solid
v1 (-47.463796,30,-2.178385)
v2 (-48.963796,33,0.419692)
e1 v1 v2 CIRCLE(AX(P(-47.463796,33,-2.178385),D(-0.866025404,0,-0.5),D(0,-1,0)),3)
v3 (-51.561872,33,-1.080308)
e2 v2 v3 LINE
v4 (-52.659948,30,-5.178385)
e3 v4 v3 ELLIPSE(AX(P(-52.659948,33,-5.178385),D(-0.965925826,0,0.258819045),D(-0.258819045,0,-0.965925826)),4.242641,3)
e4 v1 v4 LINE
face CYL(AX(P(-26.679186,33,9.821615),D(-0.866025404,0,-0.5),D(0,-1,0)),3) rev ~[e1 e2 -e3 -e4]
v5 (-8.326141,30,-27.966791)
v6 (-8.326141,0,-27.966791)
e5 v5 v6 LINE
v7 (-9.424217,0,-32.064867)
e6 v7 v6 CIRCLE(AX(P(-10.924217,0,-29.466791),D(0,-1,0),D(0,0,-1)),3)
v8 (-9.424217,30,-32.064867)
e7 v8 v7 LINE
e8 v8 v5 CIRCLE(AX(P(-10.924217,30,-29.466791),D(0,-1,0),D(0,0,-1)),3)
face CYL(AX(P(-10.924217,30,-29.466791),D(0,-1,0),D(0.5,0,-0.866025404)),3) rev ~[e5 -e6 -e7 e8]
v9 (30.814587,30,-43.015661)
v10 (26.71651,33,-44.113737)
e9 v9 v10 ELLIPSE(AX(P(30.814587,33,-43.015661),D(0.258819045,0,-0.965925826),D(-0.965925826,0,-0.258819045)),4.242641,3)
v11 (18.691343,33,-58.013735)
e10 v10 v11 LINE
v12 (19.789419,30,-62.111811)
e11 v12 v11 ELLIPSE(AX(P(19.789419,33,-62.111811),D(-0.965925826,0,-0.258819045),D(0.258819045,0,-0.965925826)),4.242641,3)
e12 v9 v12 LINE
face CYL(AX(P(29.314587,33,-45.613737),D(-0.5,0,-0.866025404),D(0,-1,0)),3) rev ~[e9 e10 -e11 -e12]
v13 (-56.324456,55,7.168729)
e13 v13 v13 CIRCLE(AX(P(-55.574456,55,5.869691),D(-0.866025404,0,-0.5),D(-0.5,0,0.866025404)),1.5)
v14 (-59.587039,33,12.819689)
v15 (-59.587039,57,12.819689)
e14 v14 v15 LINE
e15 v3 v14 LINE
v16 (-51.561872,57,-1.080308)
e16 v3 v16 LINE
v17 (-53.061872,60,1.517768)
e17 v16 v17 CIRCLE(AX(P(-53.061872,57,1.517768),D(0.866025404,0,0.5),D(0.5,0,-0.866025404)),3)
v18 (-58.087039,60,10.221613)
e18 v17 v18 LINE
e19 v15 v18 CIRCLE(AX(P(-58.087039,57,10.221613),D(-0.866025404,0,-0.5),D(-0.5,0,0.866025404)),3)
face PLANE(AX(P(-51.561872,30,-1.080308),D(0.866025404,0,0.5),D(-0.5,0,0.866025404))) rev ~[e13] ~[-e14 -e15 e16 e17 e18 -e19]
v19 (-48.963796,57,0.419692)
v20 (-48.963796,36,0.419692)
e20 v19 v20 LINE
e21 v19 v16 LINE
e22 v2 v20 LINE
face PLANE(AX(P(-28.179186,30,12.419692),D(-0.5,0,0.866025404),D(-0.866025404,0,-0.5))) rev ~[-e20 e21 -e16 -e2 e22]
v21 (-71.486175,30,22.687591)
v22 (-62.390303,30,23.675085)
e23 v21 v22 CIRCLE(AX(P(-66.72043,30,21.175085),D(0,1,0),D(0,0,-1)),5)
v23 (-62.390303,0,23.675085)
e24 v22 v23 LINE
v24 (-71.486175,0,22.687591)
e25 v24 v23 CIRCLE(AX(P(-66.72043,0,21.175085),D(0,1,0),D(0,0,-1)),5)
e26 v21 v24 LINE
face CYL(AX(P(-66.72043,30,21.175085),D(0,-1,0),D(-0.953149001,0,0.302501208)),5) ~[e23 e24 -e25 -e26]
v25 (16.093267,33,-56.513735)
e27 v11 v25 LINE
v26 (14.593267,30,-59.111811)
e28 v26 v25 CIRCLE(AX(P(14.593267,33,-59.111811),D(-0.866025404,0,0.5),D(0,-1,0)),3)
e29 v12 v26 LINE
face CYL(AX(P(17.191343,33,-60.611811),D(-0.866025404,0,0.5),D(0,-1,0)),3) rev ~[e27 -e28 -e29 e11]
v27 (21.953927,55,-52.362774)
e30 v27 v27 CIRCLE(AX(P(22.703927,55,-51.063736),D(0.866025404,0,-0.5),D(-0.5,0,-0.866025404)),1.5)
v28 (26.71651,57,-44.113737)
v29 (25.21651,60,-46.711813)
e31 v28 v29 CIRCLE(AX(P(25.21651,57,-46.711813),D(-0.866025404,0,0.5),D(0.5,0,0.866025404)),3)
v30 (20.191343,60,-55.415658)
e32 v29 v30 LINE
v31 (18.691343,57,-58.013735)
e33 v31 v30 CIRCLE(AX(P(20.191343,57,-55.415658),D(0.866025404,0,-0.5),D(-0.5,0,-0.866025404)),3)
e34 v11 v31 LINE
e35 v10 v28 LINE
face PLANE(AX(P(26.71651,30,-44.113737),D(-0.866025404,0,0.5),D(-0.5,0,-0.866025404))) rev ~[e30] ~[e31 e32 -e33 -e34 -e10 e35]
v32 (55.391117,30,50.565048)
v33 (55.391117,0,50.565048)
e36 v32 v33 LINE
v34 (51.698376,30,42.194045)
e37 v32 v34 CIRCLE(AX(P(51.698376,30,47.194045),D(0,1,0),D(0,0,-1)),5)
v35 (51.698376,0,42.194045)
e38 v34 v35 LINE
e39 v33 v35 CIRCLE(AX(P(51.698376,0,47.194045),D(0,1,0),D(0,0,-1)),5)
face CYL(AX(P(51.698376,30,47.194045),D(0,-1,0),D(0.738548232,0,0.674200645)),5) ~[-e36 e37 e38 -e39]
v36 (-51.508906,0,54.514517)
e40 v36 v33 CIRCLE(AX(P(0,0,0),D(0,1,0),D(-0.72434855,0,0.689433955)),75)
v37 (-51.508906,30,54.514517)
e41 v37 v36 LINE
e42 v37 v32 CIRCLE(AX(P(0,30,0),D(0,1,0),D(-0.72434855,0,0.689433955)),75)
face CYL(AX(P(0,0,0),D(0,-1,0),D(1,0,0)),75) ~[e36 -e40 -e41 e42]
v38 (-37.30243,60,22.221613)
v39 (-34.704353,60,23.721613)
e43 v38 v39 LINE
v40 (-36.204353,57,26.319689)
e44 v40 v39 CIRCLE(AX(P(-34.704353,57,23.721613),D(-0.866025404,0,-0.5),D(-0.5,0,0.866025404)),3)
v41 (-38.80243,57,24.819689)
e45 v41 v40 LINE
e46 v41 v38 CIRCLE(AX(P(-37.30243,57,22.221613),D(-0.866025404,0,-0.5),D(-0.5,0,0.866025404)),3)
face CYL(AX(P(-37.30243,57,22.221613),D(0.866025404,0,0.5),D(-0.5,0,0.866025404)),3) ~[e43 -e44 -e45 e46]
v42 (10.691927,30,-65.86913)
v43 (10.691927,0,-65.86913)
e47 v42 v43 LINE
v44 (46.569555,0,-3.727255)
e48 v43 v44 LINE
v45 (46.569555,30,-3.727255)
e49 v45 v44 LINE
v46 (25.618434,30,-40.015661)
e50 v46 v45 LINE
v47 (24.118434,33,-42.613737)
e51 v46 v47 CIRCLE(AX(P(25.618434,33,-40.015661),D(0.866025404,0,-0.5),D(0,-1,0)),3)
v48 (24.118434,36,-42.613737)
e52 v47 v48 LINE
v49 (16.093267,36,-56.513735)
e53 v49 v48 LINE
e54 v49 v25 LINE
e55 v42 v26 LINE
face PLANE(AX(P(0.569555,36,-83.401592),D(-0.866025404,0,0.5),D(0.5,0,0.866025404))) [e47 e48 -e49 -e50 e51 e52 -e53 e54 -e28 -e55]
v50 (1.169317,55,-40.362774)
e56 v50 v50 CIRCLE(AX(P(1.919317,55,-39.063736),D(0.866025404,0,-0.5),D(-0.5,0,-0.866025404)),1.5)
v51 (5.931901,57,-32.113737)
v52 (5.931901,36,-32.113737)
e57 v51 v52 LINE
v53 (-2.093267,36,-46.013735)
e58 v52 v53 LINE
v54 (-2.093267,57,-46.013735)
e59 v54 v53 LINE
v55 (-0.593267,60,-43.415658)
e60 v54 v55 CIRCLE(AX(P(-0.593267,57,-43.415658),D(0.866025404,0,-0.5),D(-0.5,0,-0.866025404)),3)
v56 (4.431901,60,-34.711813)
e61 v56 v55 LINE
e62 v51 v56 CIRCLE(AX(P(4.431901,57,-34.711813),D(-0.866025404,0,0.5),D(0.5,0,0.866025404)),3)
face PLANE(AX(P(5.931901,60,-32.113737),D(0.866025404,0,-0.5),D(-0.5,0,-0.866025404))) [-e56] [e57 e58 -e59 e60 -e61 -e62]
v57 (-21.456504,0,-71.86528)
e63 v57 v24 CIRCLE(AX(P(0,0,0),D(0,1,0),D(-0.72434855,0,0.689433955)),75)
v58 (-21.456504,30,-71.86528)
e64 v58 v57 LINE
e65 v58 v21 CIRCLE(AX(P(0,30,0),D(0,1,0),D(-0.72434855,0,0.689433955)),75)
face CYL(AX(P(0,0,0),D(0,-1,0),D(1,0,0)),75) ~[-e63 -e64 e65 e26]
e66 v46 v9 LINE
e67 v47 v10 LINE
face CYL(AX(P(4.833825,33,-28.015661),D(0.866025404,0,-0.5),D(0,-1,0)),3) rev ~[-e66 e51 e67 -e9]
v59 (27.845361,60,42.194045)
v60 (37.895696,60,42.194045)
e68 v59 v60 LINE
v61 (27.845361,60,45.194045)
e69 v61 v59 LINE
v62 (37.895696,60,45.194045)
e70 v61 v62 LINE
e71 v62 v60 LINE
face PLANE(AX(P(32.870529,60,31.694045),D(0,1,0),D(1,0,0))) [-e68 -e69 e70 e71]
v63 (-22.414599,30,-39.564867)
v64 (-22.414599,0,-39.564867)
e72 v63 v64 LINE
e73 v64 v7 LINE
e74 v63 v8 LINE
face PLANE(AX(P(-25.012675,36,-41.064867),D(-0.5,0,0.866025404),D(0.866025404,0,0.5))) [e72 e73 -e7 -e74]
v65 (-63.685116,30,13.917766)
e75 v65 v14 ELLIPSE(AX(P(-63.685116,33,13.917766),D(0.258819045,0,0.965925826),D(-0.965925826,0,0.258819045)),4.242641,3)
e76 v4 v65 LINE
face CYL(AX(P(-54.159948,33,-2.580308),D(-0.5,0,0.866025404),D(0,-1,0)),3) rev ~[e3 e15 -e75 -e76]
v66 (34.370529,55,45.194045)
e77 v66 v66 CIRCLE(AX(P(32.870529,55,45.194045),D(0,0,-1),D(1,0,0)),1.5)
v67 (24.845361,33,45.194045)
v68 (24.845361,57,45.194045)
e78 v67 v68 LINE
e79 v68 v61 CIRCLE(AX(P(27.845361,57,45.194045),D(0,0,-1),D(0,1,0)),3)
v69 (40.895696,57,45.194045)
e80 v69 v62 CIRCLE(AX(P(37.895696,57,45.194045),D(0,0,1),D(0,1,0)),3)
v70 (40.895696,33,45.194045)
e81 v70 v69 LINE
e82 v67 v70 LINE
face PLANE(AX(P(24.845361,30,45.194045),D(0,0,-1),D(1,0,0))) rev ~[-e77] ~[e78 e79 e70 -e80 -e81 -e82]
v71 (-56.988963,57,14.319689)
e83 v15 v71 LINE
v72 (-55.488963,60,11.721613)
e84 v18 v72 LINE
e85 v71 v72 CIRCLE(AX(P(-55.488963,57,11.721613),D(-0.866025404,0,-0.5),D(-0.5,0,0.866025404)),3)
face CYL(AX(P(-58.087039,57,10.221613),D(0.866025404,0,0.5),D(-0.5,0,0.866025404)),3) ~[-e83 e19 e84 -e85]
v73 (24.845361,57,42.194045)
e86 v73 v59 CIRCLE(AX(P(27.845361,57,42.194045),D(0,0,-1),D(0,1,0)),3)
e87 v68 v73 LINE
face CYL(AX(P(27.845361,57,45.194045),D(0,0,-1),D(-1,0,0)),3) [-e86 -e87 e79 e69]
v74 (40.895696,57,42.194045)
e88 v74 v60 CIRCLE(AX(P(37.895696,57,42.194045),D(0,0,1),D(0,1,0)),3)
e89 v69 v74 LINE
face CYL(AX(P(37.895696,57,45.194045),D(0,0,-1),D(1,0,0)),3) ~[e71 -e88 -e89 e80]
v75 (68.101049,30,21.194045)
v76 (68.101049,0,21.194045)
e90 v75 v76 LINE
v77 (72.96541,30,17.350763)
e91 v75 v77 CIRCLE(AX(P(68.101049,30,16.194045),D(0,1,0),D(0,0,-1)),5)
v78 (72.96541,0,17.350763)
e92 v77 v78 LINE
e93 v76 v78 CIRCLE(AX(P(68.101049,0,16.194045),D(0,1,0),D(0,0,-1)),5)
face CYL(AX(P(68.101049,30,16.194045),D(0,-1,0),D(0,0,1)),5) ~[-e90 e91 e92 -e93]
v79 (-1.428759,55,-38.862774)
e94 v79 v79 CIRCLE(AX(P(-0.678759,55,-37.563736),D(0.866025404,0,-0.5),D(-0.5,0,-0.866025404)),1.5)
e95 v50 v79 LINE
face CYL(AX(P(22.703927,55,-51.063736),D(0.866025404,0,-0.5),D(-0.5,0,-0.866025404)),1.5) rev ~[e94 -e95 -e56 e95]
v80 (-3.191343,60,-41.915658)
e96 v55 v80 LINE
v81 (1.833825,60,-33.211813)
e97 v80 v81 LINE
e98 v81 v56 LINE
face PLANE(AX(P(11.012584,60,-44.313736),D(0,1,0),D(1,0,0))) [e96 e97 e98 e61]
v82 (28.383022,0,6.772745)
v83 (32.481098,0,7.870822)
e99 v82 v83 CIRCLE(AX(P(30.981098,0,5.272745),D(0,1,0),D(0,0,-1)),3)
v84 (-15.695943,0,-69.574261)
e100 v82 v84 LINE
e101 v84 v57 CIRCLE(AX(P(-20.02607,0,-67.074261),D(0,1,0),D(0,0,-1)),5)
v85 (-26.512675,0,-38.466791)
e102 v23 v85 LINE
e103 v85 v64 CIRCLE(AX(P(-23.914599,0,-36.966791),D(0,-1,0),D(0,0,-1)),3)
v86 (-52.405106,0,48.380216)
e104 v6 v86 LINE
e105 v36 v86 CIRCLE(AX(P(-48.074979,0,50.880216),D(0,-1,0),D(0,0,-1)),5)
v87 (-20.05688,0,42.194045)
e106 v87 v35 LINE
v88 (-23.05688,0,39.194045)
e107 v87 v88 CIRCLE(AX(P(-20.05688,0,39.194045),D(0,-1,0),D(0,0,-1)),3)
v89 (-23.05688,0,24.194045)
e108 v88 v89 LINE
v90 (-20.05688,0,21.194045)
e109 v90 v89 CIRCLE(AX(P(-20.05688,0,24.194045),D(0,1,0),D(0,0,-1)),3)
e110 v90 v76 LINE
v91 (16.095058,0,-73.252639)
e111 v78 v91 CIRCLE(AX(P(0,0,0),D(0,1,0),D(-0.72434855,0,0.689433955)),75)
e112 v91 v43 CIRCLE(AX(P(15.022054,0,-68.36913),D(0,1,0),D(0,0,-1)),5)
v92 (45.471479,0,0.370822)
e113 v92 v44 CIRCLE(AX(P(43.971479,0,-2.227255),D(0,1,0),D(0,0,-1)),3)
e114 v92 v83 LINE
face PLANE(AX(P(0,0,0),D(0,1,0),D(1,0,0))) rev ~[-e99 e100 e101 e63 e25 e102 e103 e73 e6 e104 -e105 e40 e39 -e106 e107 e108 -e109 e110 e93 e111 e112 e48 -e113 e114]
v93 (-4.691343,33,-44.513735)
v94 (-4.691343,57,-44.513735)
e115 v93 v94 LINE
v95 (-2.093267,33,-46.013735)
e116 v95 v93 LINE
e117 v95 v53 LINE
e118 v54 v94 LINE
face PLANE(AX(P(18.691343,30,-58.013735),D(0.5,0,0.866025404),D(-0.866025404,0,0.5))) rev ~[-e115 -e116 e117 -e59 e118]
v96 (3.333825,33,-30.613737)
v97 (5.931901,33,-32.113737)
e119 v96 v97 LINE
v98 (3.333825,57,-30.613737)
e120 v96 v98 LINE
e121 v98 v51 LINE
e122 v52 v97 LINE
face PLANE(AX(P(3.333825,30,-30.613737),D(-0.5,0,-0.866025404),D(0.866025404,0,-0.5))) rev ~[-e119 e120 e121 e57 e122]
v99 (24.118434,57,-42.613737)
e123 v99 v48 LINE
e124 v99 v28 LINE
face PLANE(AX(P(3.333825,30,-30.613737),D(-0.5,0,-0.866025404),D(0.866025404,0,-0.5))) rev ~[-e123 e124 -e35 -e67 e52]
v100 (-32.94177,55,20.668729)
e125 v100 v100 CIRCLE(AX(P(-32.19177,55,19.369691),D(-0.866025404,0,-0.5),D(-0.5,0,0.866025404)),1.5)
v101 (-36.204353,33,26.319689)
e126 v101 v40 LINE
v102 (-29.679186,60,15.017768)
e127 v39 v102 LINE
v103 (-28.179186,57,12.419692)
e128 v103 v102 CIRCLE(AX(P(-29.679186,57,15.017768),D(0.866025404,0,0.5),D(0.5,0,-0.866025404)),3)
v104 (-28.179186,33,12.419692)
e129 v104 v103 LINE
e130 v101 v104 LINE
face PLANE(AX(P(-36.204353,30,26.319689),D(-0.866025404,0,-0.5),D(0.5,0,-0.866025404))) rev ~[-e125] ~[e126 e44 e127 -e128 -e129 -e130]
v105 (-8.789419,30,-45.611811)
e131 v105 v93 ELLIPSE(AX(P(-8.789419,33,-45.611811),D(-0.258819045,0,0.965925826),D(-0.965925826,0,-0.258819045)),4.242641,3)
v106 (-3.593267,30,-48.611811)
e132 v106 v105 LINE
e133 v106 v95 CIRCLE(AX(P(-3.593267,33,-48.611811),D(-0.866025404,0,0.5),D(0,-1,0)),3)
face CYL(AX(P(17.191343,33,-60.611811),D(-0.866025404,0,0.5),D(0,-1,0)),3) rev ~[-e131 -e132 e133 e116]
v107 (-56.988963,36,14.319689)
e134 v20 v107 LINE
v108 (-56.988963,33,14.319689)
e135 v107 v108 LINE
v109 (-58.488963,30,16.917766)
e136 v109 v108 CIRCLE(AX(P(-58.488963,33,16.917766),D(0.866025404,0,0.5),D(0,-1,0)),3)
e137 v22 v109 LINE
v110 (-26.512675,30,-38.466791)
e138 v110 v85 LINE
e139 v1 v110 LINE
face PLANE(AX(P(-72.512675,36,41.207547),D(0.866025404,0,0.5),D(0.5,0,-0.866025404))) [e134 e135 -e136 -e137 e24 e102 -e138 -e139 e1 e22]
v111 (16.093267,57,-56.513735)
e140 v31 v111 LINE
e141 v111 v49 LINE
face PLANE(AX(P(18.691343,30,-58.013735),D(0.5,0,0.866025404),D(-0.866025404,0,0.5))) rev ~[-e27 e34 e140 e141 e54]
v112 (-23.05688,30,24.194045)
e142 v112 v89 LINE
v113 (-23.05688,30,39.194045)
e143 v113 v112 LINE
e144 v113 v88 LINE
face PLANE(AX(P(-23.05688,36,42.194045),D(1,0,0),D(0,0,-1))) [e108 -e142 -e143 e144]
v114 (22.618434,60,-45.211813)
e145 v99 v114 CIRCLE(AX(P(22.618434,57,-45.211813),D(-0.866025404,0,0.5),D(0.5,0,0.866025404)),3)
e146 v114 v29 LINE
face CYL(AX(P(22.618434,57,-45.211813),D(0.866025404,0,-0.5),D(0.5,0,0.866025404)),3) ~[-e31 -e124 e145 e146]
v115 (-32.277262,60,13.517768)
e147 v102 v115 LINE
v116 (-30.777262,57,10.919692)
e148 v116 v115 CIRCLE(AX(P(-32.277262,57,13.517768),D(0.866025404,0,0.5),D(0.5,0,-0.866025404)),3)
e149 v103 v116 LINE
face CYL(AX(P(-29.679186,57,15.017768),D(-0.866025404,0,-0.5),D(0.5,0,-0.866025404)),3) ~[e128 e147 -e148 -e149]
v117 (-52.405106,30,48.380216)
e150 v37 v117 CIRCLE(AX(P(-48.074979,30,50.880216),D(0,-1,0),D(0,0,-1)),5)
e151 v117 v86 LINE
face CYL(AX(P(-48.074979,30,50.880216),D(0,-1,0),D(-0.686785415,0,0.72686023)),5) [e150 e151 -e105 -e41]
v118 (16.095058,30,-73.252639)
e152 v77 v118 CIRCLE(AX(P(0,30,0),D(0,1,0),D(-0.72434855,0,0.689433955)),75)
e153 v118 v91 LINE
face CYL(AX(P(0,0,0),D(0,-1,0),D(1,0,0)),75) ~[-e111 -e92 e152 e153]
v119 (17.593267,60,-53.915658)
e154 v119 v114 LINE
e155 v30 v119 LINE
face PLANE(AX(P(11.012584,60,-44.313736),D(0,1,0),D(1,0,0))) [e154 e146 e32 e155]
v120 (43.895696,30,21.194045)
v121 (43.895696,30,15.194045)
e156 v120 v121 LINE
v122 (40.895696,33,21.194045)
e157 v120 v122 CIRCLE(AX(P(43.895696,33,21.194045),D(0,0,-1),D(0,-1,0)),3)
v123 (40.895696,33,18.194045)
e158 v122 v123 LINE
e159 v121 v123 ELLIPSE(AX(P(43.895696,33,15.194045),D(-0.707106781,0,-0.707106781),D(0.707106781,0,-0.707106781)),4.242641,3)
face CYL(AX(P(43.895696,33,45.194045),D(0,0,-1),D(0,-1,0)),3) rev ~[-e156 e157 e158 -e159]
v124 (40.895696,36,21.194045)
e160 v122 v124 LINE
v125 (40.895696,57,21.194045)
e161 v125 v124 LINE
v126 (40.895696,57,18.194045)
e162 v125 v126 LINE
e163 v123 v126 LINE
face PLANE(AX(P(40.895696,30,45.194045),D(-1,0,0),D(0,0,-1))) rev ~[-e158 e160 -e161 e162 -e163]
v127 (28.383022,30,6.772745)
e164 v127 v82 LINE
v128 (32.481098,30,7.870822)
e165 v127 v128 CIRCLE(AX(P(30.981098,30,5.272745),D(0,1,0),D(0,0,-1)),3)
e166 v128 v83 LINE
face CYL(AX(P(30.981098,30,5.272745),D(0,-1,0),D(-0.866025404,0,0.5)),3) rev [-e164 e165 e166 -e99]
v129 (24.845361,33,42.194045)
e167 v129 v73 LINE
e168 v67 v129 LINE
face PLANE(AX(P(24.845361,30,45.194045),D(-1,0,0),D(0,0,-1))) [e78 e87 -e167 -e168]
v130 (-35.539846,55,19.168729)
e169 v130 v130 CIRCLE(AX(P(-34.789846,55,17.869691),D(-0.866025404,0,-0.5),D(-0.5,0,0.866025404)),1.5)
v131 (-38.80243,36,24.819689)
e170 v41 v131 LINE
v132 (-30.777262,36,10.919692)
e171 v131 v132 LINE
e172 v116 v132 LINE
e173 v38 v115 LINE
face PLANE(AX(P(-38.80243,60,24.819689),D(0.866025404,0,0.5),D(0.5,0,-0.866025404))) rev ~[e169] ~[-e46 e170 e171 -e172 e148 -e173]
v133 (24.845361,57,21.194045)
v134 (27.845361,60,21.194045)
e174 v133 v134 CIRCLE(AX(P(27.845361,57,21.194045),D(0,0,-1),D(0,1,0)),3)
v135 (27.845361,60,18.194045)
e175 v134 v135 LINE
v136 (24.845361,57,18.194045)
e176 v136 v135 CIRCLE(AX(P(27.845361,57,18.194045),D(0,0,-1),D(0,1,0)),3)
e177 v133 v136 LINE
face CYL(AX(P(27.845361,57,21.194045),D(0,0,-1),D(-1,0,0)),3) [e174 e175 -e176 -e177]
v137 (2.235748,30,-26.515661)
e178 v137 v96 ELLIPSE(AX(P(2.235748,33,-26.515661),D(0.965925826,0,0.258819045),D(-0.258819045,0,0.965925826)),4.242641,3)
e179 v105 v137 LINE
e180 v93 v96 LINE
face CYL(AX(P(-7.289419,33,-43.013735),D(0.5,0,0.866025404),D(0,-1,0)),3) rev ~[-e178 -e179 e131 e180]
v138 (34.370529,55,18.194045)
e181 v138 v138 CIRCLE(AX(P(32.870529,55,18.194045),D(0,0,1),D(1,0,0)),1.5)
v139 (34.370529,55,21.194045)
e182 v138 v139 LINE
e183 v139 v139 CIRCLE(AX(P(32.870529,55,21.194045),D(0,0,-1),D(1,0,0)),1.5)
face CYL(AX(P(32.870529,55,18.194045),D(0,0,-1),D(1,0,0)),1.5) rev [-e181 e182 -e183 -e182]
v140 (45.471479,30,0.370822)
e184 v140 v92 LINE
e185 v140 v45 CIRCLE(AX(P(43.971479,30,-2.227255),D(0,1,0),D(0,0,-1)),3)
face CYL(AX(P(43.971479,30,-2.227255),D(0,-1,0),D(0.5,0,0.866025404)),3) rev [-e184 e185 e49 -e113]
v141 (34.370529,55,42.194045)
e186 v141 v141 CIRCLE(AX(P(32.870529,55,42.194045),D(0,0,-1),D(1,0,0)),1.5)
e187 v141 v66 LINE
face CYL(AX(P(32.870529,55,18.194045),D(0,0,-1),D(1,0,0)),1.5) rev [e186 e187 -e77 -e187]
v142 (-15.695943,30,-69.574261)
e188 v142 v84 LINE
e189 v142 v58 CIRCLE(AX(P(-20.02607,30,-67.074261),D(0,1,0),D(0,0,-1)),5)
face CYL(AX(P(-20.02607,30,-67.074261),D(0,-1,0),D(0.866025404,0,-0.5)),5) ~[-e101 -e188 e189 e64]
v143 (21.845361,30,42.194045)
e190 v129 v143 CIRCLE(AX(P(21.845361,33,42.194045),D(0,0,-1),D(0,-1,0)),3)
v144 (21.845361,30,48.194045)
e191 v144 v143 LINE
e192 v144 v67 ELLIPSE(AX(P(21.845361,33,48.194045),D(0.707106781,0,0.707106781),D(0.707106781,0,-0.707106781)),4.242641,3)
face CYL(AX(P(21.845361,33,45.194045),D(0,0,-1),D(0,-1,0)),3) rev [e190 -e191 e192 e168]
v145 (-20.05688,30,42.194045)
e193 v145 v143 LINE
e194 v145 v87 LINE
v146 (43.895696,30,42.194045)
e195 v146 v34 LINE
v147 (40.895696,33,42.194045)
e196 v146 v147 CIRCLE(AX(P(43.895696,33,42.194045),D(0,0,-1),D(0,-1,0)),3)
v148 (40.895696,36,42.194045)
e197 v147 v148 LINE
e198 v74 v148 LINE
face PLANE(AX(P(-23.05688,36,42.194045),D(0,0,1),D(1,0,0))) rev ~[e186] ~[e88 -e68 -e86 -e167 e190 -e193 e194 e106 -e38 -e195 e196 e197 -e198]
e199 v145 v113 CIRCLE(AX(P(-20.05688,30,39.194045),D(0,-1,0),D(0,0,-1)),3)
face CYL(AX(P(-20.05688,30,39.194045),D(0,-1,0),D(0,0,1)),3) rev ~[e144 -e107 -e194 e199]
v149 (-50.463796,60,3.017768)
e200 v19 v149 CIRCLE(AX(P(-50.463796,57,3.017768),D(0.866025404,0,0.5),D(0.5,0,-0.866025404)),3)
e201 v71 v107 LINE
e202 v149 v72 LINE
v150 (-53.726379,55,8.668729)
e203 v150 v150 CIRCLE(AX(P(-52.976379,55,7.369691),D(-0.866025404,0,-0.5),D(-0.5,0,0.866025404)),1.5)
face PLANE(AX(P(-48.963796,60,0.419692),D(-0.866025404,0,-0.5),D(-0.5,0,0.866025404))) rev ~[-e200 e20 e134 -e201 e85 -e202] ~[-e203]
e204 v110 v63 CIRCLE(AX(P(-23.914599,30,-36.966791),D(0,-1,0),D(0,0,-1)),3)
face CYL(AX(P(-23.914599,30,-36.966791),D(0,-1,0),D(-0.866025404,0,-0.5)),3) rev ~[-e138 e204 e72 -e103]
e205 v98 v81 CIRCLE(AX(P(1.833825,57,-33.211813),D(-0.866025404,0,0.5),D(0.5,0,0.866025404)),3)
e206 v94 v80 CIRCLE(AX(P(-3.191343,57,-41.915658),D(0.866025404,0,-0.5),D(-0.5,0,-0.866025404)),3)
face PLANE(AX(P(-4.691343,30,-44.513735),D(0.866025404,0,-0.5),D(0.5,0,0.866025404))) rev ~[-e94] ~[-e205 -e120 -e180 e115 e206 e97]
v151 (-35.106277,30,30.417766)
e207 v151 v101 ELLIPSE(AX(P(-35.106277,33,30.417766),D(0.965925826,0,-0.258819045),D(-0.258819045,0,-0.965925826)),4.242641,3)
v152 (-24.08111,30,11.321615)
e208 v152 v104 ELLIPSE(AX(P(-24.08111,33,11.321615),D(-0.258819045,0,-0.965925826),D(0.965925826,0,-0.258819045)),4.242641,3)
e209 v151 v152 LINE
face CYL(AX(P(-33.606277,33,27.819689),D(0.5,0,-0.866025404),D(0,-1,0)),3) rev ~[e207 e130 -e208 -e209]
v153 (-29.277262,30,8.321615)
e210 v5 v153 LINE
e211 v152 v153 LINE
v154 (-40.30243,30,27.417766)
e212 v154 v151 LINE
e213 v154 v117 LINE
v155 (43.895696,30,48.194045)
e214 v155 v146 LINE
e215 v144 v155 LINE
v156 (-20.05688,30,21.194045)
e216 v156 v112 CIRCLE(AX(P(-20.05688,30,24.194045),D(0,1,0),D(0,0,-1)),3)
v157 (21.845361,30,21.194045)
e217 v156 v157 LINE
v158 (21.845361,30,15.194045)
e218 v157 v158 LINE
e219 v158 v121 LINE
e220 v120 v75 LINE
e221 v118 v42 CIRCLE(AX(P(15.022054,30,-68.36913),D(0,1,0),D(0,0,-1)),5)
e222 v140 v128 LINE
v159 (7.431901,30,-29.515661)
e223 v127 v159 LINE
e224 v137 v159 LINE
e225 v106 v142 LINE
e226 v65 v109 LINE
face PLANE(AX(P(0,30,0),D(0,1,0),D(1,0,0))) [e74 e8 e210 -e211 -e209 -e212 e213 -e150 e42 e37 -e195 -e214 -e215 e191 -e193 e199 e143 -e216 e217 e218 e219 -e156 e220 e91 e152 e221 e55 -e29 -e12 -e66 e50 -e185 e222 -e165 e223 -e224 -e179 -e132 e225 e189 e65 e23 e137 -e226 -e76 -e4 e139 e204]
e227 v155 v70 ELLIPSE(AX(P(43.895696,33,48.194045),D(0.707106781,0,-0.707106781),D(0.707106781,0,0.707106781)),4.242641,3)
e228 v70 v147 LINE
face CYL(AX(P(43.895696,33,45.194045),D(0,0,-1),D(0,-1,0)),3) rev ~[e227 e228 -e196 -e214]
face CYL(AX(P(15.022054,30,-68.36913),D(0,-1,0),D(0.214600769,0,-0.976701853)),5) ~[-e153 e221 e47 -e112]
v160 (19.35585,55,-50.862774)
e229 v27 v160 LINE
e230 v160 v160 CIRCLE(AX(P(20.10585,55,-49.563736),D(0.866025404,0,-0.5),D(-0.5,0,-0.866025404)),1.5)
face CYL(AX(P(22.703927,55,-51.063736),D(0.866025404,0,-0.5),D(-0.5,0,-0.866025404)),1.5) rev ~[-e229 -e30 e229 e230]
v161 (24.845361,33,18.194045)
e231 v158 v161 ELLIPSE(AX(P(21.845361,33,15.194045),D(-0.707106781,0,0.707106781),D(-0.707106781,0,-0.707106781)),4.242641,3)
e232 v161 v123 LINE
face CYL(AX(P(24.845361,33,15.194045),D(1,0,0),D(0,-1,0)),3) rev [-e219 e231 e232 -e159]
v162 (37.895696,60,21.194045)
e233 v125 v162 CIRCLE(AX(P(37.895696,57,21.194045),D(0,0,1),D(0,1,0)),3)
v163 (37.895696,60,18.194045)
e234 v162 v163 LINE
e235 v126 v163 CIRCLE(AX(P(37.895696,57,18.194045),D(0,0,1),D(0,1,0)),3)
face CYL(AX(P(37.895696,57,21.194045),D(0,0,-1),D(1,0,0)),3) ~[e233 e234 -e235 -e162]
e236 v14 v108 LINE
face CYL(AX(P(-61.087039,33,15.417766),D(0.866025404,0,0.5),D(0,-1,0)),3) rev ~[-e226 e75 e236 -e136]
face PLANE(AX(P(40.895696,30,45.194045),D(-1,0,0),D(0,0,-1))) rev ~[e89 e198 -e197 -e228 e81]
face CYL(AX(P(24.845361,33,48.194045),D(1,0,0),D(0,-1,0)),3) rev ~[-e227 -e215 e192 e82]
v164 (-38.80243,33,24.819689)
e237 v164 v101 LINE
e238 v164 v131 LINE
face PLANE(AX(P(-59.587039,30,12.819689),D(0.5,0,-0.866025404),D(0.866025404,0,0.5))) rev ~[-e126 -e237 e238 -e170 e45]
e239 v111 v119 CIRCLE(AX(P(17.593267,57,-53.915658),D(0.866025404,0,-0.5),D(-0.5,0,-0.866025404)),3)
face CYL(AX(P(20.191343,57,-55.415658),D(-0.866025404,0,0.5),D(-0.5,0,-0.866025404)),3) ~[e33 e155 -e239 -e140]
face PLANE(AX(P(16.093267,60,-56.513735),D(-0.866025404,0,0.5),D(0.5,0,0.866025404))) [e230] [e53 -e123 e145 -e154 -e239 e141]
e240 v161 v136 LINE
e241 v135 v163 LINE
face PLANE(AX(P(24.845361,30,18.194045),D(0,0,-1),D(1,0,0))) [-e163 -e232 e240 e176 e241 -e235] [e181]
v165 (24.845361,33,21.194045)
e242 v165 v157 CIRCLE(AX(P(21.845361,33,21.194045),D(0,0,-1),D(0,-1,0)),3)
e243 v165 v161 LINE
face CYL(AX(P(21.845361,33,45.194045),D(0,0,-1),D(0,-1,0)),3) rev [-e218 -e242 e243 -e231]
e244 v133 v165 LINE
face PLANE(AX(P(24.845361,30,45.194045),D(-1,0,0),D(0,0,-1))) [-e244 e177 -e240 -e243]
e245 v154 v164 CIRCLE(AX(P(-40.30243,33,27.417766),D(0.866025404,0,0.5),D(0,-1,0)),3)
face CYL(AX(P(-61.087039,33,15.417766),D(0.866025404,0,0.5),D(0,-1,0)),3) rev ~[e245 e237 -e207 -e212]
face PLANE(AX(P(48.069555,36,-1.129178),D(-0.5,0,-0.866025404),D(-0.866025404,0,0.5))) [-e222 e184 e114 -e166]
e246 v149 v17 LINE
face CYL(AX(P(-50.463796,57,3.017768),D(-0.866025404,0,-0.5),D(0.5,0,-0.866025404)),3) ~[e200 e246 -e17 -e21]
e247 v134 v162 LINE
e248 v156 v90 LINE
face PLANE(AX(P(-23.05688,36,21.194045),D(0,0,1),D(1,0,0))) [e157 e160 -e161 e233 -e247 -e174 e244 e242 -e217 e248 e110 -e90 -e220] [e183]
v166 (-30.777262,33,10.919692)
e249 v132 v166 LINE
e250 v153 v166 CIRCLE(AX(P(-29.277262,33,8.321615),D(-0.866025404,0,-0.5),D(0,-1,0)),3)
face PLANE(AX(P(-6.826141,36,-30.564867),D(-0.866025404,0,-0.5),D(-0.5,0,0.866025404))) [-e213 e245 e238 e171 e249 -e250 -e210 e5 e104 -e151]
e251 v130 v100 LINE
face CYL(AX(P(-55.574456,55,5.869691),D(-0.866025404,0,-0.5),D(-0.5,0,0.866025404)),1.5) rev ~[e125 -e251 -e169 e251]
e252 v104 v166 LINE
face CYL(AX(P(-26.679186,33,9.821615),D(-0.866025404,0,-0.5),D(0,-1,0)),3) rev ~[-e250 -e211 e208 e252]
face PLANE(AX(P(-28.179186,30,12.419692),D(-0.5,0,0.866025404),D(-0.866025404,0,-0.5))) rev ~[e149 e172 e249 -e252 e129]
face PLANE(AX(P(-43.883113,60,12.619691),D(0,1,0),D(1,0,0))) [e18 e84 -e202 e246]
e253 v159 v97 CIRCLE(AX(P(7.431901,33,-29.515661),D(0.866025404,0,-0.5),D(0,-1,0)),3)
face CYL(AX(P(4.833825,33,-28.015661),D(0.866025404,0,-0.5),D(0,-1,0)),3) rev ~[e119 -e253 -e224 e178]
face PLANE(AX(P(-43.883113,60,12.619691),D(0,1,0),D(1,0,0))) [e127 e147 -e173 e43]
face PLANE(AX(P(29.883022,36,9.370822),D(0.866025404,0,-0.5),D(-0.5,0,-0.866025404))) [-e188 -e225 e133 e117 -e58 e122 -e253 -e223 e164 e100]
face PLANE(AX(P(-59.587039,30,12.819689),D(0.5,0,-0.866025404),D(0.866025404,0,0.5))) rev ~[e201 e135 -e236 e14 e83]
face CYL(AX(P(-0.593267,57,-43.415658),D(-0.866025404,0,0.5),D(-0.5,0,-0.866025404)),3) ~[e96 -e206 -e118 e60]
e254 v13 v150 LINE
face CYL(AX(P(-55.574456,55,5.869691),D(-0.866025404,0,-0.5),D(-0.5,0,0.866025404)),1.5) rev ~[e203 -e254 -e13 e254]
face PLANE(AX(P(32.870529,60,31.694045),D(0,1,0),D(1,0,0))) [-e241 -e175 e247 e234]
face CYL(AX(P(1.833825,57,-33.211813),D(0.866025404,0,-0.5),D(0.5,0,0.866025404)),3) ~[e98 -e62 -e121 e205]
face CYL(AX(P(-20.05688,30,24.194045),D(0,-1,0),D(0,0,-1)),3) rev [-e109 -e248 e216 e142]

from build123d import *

# Parameters (mm, degrees)
SKETCH1_R                = 75
BOSS_EXTRUDE1_DEPTH      = 30
SKETCH2_W                = 16.050334996
SKETCH2_H                = 27
BOSS_EXTRUDE3_DEPTH      = 30
SKETCH3_R                = 1.5
CUT_EXTRUDE3_DEPTH       = 57.805954881
CUT_EXTRUDE3_DEPTH_BACK  = 94.194045119
SKETCH4_R                = 1.5
CUT_EXTRUDE4_DEPTH       = 148.645950403
SKETCH6_R                = 1.5
CUT_EXTRUDE5_DEPTH       = 148.645950403
SKETCH7_W                = 16.050693915
SKETCH7_H                = 21
CUT_EXTRUDE6_DEPTH       = 24
CUT_EXTRUDE7_DEPTH       = 24
CUT_EXTRUDE8_DEPTH       = 24
FILLET4_R                = 3
CUT_EXTRUDE9_DEPTH       = 25
CUT_EXTRUDE9_DEPTH_BACK  = 37
CUT_EXTRUDE10_DEPTH      = 25
CUT_EXTRUDE10_DEPTH_BACK = 37
SKETCH12_W               = 95
SKETCH12_H               = 21
CUT_EXTRUDE11_DEPTH      = 25
CUT_EXTRUDE11_DEPTH_BACK = 37
FILLET5_R                = 5
FILLET6_R                = 3
FILLET7_R                = 3


with BuildPart() as part:
    # Sketch1 → Boss-Extrude1 (new body)
    with BuildSketch(Plane(origin=(0, 0, 0), x_dir=(1, 0, 0), z_dir=(0, 1, 0))):
        Circle(SKETCH1_R)
    extrude(amount=BOSS_EXTRUDE1_DEPTH)

    # Sketch2 → Boss-Extrude3 (add)
    with BuildSketch(Plane(origin=(0, 30, 0), x_dir=(1, 0, 0), z_dir=(0, 1, 0))):
        Polygon((3.333824547, 30.61373674), (26.716510449, 44.11373674), (18.691342951, 58.013734586), (-4.691342951, 44.513734586), align=None)
        with Locations((32.870528946, -31.694045119)):
            Rectangle(SKETCH2_W, SKETCH2_H)
        Polygon((-59.587039395, -12.819689466), (-36.204353493, -26.319689466), (-28.179185995, -12.419691621), (-51.561871897, 1.080308379), align=None)
    extrude(amount=BOSS_EXTRUDE3_DEPTH)

    # Sketch3 → Cut-Extrude3 (cut, two sides)
    with BuildSketch(Plane(origin=(24.845361448, 30, 18.194045119), x_dir=(1, 0, 0), z_dir=(0, 0, 1))) as cut_extrude3_sk:
        with Locations((8.025167498, 25)):
            Circle(SKETCH3_R)
    extrude(amount=CUT_EXTRUDE3_DEPTH, mode=Mode.SUBTRACT)
    extrude(cut_extrude3_sk.sketch, amount=-CUT_EXTRUDE3_DEPTH_BACK, mode=Mode.SUBTRACT)

    # Sketch4 → Cut-Extrude4 (cut, through all)
    with BuildSketch(Plane(origin=(-39.139191173, 0, -22.59702256), x_dir=(-0.5, 0, 0.866025404), z_dir=(-0.866025404, 0, -0.5))):
        with Locations((32.870528946, 55)):
            Circle(SKETCH4_R)
    extrude(amount=-CUT_EXTRUDE4_DEPTH, mode=Mode.SUBTRACT)

    # Sketch6 → Cut-Extrude5 (cut, through all)
    with BuildSketch(Plane(origin=(39.139191173, 0, -22.59702256), x_dir=(-0.5, 0, -0.866025404), z_dir=(0.866025404, 0, -0.5))):
        with Locations((32.870528946, 55)):
            Circle(SKETCH6_R)
    extrude(amount=-CUT_EXTRUDE5_DEPTH, mode=Mode.SUBTRACT)

    # Sketch7 → Cut-Extrude6 (cut)
    with BuildSketch(Plane(origin=(0, 60, 0), x_dir=(1, 0, 0), z_dir=(0, 1, 0))):
        with Locations((32.870349487, -31.694045119)):
            Rectangle(SKETCH7_W, SKETCH7_H)
    extrude(amount=-CUT_EXTRUDE6_DEPTH, mode=Mode.SUBTRACT)

    # Sketch8 → Cut-Extrude7 (cut)
    with BuildSketch(Plane(origin=(0, 60, 0), x_dir=(1, 0, 0), z_dir=(0, 1, 0))):
        Polygon((-30.777262206, -10.919691621), (-48.963795686, -0.419691621), (-56.988963184, -14.319689466), (-38.802429704, -24.819689466), align=None)
    extrude(amount=-CUT_EXTRUDE7_DEPTH, mode=Mode.SUBTRACT)

    # Sketch9 → Cut-Extrude8 (cut)
    with BuildSketch(Plane(origin=(0, 60, 0), x_dir=(1, 0, 0), z_dir=(0, 1, 0))):
        Polygon((16.09326674, 56.513734586), (24.118434238, 42.61373674), (5.931900758, 32.11373674), (-2.09326674, 46.013734586), align=None)
    extrude(amount=-CUT_EXTRUDE8_DEPTH, mode=Mode.SUBTRACT)

    # Fillet4
    fillet4_edges = [part.edges().sort_by_distance(p)[0] for p in [
        (24.845361448, 30, 31.694045119),
        (32.870528946, 30, 45.194045119),
        (40.895696444, 30, 31.694045119),
        (32.870528946, 30, 18.194045119),
        (22.7039267, 30, -51.063735663),
        (7, 30, -51.263734586),
        (-0.678759202, 30, -37.563735663),
        (15.025167498, 30, -37.36373674),
        (-32.191769744, 30, 19.369690543),
        (-39.870528946, 30, 5.669691621),
        (-55.574455646, 30, 5.869690543),
        (-47.895696444, 30, 19.569689466),
    ]]
    fillet(fillet4_edges, radius=FILLET4_R)

    # Sketch10 → Cut-Extrude9 (cut, two sides)
    with BuildSketch(Plane(origin=(0, 36, 0), x_dir=(1, 0, 0), z_dir=(0, 1, 0))) as cut_extrude9_sk:
        Polygon((-25.01267474, 41.064866756), (-6.82614126, 30.564866756), (-54.32614126, -51.707546603), (-72.51267474, -41.207546603), align=None)
    extrude(amount=CUT_EXTRUDE9_DEPTH, mode=Mode.SUBTRACT)
    extrude(cut_extrude9_sk.sketch, amount=-CUT_EXTRUDE9_DEPTH_BACK, mode=Mode.SUBTRACT)

    # Sketch11 → Cut-Extrude10 (cut, two sides)
    with BuildSketch(Plane(origin=(0, 36, 0), x_dir=(1, 0, 0), z_dir=(0, 1, 0))) as cut_extrude10_sk:
        Polygon((-17.616978296, 72.901591723), (0.569555184, 83.401591723), (48.069555184, 1.129178363), (29.883021704, -9.370821637), align=None)
    extrude(amount=CUT_EXTRUDE10_DEPTH, mode=Mode.SUBTRACT)
    extrude(cut_extrude10_sk.sketch, amount=-CUT_EXTRUDE10_DEPTH_BACK, mode=Mode.SUBTRACT)

    # Sketch12 → Cut-Extrude11 (cut, two sides)
    with BuildSketch(Plane(origin=(0, 36, 0), x_dir=(1, 0, 0), z_dir=(0, 1, 0))) as cut_extrude11_sk:
        with Locations((24.443119556, -31.694045119)):
            Rectangle(SKETCH12_W, SKETCH12_H)
    extrude(amount=CUT_EXTRUDE11_DEPTH, mode=Mode.SUBTRACT)
    extrude(cut_extrude11_sk.sketch, amount=-CUT_EXTRUDE11_DEPTH_BACK, mode=Mode.SUBTRACT)

    # Fillet5
    fillet5_edges = [part.edges().sort_by_distance(p)[0] for p in [
        (-67.543786445, 15, 32.60117962),
        (-54.32614126, 15, 51.707546603),
        (5.538443478, 15, -74.79522474),
        (-17.616978296, 15, -72.901591723),
        (62.005342967, 15, 42.194045119),
        (71.943119556, 15, 21.194045119),
    ]]
    fillet(fillet5_edges, radius=FILLET5_R)

    # Fillet6
    fillet6_edges = [part.edges().sort_by_distance(p)[0] for p in [
        (-25.01267474, 15, -41.064866756),
        (-6.82614126, 15, -30.564866756),
        (29.883021704, 15, 9.370821637),
        (48.069555184, 15, -1.129178363),
        (-23.056880444, 15, 42.194045119),
        (-23.056880444, 15, 21.194045119),
    ]]
    fillet(fillet6_edges, radius=FILLET6_R)

    # Fillet7
    fillet7_edges = [part.edges().sort_by_distance(p)[0] for p in [
        (-3.392304845, 60, -45.263734586),
        (25.417472343, 60, -43.36373674),
        (24.845361448, 60, 19.694045119),
        (40.895696444, 60, 43.694045119),
        (17.392304845, 60, -57.263734586),
        (4.632862653, 60, -31.36373674),
        (24.845361448, 60, 43.694045119),
        (40.895696444, 60, 19.694045119),
        (-50.262833792, 60, -0.330308379),
        (-37.503391599, 60, 25.569689466),
        (-29.478224101, 60, 11.669691621),
        (-58.28800129, 60, 13.569689466),
    ]]
    fillet(fillet7_edges, radius=FILLET7_R)


solid = part.part
